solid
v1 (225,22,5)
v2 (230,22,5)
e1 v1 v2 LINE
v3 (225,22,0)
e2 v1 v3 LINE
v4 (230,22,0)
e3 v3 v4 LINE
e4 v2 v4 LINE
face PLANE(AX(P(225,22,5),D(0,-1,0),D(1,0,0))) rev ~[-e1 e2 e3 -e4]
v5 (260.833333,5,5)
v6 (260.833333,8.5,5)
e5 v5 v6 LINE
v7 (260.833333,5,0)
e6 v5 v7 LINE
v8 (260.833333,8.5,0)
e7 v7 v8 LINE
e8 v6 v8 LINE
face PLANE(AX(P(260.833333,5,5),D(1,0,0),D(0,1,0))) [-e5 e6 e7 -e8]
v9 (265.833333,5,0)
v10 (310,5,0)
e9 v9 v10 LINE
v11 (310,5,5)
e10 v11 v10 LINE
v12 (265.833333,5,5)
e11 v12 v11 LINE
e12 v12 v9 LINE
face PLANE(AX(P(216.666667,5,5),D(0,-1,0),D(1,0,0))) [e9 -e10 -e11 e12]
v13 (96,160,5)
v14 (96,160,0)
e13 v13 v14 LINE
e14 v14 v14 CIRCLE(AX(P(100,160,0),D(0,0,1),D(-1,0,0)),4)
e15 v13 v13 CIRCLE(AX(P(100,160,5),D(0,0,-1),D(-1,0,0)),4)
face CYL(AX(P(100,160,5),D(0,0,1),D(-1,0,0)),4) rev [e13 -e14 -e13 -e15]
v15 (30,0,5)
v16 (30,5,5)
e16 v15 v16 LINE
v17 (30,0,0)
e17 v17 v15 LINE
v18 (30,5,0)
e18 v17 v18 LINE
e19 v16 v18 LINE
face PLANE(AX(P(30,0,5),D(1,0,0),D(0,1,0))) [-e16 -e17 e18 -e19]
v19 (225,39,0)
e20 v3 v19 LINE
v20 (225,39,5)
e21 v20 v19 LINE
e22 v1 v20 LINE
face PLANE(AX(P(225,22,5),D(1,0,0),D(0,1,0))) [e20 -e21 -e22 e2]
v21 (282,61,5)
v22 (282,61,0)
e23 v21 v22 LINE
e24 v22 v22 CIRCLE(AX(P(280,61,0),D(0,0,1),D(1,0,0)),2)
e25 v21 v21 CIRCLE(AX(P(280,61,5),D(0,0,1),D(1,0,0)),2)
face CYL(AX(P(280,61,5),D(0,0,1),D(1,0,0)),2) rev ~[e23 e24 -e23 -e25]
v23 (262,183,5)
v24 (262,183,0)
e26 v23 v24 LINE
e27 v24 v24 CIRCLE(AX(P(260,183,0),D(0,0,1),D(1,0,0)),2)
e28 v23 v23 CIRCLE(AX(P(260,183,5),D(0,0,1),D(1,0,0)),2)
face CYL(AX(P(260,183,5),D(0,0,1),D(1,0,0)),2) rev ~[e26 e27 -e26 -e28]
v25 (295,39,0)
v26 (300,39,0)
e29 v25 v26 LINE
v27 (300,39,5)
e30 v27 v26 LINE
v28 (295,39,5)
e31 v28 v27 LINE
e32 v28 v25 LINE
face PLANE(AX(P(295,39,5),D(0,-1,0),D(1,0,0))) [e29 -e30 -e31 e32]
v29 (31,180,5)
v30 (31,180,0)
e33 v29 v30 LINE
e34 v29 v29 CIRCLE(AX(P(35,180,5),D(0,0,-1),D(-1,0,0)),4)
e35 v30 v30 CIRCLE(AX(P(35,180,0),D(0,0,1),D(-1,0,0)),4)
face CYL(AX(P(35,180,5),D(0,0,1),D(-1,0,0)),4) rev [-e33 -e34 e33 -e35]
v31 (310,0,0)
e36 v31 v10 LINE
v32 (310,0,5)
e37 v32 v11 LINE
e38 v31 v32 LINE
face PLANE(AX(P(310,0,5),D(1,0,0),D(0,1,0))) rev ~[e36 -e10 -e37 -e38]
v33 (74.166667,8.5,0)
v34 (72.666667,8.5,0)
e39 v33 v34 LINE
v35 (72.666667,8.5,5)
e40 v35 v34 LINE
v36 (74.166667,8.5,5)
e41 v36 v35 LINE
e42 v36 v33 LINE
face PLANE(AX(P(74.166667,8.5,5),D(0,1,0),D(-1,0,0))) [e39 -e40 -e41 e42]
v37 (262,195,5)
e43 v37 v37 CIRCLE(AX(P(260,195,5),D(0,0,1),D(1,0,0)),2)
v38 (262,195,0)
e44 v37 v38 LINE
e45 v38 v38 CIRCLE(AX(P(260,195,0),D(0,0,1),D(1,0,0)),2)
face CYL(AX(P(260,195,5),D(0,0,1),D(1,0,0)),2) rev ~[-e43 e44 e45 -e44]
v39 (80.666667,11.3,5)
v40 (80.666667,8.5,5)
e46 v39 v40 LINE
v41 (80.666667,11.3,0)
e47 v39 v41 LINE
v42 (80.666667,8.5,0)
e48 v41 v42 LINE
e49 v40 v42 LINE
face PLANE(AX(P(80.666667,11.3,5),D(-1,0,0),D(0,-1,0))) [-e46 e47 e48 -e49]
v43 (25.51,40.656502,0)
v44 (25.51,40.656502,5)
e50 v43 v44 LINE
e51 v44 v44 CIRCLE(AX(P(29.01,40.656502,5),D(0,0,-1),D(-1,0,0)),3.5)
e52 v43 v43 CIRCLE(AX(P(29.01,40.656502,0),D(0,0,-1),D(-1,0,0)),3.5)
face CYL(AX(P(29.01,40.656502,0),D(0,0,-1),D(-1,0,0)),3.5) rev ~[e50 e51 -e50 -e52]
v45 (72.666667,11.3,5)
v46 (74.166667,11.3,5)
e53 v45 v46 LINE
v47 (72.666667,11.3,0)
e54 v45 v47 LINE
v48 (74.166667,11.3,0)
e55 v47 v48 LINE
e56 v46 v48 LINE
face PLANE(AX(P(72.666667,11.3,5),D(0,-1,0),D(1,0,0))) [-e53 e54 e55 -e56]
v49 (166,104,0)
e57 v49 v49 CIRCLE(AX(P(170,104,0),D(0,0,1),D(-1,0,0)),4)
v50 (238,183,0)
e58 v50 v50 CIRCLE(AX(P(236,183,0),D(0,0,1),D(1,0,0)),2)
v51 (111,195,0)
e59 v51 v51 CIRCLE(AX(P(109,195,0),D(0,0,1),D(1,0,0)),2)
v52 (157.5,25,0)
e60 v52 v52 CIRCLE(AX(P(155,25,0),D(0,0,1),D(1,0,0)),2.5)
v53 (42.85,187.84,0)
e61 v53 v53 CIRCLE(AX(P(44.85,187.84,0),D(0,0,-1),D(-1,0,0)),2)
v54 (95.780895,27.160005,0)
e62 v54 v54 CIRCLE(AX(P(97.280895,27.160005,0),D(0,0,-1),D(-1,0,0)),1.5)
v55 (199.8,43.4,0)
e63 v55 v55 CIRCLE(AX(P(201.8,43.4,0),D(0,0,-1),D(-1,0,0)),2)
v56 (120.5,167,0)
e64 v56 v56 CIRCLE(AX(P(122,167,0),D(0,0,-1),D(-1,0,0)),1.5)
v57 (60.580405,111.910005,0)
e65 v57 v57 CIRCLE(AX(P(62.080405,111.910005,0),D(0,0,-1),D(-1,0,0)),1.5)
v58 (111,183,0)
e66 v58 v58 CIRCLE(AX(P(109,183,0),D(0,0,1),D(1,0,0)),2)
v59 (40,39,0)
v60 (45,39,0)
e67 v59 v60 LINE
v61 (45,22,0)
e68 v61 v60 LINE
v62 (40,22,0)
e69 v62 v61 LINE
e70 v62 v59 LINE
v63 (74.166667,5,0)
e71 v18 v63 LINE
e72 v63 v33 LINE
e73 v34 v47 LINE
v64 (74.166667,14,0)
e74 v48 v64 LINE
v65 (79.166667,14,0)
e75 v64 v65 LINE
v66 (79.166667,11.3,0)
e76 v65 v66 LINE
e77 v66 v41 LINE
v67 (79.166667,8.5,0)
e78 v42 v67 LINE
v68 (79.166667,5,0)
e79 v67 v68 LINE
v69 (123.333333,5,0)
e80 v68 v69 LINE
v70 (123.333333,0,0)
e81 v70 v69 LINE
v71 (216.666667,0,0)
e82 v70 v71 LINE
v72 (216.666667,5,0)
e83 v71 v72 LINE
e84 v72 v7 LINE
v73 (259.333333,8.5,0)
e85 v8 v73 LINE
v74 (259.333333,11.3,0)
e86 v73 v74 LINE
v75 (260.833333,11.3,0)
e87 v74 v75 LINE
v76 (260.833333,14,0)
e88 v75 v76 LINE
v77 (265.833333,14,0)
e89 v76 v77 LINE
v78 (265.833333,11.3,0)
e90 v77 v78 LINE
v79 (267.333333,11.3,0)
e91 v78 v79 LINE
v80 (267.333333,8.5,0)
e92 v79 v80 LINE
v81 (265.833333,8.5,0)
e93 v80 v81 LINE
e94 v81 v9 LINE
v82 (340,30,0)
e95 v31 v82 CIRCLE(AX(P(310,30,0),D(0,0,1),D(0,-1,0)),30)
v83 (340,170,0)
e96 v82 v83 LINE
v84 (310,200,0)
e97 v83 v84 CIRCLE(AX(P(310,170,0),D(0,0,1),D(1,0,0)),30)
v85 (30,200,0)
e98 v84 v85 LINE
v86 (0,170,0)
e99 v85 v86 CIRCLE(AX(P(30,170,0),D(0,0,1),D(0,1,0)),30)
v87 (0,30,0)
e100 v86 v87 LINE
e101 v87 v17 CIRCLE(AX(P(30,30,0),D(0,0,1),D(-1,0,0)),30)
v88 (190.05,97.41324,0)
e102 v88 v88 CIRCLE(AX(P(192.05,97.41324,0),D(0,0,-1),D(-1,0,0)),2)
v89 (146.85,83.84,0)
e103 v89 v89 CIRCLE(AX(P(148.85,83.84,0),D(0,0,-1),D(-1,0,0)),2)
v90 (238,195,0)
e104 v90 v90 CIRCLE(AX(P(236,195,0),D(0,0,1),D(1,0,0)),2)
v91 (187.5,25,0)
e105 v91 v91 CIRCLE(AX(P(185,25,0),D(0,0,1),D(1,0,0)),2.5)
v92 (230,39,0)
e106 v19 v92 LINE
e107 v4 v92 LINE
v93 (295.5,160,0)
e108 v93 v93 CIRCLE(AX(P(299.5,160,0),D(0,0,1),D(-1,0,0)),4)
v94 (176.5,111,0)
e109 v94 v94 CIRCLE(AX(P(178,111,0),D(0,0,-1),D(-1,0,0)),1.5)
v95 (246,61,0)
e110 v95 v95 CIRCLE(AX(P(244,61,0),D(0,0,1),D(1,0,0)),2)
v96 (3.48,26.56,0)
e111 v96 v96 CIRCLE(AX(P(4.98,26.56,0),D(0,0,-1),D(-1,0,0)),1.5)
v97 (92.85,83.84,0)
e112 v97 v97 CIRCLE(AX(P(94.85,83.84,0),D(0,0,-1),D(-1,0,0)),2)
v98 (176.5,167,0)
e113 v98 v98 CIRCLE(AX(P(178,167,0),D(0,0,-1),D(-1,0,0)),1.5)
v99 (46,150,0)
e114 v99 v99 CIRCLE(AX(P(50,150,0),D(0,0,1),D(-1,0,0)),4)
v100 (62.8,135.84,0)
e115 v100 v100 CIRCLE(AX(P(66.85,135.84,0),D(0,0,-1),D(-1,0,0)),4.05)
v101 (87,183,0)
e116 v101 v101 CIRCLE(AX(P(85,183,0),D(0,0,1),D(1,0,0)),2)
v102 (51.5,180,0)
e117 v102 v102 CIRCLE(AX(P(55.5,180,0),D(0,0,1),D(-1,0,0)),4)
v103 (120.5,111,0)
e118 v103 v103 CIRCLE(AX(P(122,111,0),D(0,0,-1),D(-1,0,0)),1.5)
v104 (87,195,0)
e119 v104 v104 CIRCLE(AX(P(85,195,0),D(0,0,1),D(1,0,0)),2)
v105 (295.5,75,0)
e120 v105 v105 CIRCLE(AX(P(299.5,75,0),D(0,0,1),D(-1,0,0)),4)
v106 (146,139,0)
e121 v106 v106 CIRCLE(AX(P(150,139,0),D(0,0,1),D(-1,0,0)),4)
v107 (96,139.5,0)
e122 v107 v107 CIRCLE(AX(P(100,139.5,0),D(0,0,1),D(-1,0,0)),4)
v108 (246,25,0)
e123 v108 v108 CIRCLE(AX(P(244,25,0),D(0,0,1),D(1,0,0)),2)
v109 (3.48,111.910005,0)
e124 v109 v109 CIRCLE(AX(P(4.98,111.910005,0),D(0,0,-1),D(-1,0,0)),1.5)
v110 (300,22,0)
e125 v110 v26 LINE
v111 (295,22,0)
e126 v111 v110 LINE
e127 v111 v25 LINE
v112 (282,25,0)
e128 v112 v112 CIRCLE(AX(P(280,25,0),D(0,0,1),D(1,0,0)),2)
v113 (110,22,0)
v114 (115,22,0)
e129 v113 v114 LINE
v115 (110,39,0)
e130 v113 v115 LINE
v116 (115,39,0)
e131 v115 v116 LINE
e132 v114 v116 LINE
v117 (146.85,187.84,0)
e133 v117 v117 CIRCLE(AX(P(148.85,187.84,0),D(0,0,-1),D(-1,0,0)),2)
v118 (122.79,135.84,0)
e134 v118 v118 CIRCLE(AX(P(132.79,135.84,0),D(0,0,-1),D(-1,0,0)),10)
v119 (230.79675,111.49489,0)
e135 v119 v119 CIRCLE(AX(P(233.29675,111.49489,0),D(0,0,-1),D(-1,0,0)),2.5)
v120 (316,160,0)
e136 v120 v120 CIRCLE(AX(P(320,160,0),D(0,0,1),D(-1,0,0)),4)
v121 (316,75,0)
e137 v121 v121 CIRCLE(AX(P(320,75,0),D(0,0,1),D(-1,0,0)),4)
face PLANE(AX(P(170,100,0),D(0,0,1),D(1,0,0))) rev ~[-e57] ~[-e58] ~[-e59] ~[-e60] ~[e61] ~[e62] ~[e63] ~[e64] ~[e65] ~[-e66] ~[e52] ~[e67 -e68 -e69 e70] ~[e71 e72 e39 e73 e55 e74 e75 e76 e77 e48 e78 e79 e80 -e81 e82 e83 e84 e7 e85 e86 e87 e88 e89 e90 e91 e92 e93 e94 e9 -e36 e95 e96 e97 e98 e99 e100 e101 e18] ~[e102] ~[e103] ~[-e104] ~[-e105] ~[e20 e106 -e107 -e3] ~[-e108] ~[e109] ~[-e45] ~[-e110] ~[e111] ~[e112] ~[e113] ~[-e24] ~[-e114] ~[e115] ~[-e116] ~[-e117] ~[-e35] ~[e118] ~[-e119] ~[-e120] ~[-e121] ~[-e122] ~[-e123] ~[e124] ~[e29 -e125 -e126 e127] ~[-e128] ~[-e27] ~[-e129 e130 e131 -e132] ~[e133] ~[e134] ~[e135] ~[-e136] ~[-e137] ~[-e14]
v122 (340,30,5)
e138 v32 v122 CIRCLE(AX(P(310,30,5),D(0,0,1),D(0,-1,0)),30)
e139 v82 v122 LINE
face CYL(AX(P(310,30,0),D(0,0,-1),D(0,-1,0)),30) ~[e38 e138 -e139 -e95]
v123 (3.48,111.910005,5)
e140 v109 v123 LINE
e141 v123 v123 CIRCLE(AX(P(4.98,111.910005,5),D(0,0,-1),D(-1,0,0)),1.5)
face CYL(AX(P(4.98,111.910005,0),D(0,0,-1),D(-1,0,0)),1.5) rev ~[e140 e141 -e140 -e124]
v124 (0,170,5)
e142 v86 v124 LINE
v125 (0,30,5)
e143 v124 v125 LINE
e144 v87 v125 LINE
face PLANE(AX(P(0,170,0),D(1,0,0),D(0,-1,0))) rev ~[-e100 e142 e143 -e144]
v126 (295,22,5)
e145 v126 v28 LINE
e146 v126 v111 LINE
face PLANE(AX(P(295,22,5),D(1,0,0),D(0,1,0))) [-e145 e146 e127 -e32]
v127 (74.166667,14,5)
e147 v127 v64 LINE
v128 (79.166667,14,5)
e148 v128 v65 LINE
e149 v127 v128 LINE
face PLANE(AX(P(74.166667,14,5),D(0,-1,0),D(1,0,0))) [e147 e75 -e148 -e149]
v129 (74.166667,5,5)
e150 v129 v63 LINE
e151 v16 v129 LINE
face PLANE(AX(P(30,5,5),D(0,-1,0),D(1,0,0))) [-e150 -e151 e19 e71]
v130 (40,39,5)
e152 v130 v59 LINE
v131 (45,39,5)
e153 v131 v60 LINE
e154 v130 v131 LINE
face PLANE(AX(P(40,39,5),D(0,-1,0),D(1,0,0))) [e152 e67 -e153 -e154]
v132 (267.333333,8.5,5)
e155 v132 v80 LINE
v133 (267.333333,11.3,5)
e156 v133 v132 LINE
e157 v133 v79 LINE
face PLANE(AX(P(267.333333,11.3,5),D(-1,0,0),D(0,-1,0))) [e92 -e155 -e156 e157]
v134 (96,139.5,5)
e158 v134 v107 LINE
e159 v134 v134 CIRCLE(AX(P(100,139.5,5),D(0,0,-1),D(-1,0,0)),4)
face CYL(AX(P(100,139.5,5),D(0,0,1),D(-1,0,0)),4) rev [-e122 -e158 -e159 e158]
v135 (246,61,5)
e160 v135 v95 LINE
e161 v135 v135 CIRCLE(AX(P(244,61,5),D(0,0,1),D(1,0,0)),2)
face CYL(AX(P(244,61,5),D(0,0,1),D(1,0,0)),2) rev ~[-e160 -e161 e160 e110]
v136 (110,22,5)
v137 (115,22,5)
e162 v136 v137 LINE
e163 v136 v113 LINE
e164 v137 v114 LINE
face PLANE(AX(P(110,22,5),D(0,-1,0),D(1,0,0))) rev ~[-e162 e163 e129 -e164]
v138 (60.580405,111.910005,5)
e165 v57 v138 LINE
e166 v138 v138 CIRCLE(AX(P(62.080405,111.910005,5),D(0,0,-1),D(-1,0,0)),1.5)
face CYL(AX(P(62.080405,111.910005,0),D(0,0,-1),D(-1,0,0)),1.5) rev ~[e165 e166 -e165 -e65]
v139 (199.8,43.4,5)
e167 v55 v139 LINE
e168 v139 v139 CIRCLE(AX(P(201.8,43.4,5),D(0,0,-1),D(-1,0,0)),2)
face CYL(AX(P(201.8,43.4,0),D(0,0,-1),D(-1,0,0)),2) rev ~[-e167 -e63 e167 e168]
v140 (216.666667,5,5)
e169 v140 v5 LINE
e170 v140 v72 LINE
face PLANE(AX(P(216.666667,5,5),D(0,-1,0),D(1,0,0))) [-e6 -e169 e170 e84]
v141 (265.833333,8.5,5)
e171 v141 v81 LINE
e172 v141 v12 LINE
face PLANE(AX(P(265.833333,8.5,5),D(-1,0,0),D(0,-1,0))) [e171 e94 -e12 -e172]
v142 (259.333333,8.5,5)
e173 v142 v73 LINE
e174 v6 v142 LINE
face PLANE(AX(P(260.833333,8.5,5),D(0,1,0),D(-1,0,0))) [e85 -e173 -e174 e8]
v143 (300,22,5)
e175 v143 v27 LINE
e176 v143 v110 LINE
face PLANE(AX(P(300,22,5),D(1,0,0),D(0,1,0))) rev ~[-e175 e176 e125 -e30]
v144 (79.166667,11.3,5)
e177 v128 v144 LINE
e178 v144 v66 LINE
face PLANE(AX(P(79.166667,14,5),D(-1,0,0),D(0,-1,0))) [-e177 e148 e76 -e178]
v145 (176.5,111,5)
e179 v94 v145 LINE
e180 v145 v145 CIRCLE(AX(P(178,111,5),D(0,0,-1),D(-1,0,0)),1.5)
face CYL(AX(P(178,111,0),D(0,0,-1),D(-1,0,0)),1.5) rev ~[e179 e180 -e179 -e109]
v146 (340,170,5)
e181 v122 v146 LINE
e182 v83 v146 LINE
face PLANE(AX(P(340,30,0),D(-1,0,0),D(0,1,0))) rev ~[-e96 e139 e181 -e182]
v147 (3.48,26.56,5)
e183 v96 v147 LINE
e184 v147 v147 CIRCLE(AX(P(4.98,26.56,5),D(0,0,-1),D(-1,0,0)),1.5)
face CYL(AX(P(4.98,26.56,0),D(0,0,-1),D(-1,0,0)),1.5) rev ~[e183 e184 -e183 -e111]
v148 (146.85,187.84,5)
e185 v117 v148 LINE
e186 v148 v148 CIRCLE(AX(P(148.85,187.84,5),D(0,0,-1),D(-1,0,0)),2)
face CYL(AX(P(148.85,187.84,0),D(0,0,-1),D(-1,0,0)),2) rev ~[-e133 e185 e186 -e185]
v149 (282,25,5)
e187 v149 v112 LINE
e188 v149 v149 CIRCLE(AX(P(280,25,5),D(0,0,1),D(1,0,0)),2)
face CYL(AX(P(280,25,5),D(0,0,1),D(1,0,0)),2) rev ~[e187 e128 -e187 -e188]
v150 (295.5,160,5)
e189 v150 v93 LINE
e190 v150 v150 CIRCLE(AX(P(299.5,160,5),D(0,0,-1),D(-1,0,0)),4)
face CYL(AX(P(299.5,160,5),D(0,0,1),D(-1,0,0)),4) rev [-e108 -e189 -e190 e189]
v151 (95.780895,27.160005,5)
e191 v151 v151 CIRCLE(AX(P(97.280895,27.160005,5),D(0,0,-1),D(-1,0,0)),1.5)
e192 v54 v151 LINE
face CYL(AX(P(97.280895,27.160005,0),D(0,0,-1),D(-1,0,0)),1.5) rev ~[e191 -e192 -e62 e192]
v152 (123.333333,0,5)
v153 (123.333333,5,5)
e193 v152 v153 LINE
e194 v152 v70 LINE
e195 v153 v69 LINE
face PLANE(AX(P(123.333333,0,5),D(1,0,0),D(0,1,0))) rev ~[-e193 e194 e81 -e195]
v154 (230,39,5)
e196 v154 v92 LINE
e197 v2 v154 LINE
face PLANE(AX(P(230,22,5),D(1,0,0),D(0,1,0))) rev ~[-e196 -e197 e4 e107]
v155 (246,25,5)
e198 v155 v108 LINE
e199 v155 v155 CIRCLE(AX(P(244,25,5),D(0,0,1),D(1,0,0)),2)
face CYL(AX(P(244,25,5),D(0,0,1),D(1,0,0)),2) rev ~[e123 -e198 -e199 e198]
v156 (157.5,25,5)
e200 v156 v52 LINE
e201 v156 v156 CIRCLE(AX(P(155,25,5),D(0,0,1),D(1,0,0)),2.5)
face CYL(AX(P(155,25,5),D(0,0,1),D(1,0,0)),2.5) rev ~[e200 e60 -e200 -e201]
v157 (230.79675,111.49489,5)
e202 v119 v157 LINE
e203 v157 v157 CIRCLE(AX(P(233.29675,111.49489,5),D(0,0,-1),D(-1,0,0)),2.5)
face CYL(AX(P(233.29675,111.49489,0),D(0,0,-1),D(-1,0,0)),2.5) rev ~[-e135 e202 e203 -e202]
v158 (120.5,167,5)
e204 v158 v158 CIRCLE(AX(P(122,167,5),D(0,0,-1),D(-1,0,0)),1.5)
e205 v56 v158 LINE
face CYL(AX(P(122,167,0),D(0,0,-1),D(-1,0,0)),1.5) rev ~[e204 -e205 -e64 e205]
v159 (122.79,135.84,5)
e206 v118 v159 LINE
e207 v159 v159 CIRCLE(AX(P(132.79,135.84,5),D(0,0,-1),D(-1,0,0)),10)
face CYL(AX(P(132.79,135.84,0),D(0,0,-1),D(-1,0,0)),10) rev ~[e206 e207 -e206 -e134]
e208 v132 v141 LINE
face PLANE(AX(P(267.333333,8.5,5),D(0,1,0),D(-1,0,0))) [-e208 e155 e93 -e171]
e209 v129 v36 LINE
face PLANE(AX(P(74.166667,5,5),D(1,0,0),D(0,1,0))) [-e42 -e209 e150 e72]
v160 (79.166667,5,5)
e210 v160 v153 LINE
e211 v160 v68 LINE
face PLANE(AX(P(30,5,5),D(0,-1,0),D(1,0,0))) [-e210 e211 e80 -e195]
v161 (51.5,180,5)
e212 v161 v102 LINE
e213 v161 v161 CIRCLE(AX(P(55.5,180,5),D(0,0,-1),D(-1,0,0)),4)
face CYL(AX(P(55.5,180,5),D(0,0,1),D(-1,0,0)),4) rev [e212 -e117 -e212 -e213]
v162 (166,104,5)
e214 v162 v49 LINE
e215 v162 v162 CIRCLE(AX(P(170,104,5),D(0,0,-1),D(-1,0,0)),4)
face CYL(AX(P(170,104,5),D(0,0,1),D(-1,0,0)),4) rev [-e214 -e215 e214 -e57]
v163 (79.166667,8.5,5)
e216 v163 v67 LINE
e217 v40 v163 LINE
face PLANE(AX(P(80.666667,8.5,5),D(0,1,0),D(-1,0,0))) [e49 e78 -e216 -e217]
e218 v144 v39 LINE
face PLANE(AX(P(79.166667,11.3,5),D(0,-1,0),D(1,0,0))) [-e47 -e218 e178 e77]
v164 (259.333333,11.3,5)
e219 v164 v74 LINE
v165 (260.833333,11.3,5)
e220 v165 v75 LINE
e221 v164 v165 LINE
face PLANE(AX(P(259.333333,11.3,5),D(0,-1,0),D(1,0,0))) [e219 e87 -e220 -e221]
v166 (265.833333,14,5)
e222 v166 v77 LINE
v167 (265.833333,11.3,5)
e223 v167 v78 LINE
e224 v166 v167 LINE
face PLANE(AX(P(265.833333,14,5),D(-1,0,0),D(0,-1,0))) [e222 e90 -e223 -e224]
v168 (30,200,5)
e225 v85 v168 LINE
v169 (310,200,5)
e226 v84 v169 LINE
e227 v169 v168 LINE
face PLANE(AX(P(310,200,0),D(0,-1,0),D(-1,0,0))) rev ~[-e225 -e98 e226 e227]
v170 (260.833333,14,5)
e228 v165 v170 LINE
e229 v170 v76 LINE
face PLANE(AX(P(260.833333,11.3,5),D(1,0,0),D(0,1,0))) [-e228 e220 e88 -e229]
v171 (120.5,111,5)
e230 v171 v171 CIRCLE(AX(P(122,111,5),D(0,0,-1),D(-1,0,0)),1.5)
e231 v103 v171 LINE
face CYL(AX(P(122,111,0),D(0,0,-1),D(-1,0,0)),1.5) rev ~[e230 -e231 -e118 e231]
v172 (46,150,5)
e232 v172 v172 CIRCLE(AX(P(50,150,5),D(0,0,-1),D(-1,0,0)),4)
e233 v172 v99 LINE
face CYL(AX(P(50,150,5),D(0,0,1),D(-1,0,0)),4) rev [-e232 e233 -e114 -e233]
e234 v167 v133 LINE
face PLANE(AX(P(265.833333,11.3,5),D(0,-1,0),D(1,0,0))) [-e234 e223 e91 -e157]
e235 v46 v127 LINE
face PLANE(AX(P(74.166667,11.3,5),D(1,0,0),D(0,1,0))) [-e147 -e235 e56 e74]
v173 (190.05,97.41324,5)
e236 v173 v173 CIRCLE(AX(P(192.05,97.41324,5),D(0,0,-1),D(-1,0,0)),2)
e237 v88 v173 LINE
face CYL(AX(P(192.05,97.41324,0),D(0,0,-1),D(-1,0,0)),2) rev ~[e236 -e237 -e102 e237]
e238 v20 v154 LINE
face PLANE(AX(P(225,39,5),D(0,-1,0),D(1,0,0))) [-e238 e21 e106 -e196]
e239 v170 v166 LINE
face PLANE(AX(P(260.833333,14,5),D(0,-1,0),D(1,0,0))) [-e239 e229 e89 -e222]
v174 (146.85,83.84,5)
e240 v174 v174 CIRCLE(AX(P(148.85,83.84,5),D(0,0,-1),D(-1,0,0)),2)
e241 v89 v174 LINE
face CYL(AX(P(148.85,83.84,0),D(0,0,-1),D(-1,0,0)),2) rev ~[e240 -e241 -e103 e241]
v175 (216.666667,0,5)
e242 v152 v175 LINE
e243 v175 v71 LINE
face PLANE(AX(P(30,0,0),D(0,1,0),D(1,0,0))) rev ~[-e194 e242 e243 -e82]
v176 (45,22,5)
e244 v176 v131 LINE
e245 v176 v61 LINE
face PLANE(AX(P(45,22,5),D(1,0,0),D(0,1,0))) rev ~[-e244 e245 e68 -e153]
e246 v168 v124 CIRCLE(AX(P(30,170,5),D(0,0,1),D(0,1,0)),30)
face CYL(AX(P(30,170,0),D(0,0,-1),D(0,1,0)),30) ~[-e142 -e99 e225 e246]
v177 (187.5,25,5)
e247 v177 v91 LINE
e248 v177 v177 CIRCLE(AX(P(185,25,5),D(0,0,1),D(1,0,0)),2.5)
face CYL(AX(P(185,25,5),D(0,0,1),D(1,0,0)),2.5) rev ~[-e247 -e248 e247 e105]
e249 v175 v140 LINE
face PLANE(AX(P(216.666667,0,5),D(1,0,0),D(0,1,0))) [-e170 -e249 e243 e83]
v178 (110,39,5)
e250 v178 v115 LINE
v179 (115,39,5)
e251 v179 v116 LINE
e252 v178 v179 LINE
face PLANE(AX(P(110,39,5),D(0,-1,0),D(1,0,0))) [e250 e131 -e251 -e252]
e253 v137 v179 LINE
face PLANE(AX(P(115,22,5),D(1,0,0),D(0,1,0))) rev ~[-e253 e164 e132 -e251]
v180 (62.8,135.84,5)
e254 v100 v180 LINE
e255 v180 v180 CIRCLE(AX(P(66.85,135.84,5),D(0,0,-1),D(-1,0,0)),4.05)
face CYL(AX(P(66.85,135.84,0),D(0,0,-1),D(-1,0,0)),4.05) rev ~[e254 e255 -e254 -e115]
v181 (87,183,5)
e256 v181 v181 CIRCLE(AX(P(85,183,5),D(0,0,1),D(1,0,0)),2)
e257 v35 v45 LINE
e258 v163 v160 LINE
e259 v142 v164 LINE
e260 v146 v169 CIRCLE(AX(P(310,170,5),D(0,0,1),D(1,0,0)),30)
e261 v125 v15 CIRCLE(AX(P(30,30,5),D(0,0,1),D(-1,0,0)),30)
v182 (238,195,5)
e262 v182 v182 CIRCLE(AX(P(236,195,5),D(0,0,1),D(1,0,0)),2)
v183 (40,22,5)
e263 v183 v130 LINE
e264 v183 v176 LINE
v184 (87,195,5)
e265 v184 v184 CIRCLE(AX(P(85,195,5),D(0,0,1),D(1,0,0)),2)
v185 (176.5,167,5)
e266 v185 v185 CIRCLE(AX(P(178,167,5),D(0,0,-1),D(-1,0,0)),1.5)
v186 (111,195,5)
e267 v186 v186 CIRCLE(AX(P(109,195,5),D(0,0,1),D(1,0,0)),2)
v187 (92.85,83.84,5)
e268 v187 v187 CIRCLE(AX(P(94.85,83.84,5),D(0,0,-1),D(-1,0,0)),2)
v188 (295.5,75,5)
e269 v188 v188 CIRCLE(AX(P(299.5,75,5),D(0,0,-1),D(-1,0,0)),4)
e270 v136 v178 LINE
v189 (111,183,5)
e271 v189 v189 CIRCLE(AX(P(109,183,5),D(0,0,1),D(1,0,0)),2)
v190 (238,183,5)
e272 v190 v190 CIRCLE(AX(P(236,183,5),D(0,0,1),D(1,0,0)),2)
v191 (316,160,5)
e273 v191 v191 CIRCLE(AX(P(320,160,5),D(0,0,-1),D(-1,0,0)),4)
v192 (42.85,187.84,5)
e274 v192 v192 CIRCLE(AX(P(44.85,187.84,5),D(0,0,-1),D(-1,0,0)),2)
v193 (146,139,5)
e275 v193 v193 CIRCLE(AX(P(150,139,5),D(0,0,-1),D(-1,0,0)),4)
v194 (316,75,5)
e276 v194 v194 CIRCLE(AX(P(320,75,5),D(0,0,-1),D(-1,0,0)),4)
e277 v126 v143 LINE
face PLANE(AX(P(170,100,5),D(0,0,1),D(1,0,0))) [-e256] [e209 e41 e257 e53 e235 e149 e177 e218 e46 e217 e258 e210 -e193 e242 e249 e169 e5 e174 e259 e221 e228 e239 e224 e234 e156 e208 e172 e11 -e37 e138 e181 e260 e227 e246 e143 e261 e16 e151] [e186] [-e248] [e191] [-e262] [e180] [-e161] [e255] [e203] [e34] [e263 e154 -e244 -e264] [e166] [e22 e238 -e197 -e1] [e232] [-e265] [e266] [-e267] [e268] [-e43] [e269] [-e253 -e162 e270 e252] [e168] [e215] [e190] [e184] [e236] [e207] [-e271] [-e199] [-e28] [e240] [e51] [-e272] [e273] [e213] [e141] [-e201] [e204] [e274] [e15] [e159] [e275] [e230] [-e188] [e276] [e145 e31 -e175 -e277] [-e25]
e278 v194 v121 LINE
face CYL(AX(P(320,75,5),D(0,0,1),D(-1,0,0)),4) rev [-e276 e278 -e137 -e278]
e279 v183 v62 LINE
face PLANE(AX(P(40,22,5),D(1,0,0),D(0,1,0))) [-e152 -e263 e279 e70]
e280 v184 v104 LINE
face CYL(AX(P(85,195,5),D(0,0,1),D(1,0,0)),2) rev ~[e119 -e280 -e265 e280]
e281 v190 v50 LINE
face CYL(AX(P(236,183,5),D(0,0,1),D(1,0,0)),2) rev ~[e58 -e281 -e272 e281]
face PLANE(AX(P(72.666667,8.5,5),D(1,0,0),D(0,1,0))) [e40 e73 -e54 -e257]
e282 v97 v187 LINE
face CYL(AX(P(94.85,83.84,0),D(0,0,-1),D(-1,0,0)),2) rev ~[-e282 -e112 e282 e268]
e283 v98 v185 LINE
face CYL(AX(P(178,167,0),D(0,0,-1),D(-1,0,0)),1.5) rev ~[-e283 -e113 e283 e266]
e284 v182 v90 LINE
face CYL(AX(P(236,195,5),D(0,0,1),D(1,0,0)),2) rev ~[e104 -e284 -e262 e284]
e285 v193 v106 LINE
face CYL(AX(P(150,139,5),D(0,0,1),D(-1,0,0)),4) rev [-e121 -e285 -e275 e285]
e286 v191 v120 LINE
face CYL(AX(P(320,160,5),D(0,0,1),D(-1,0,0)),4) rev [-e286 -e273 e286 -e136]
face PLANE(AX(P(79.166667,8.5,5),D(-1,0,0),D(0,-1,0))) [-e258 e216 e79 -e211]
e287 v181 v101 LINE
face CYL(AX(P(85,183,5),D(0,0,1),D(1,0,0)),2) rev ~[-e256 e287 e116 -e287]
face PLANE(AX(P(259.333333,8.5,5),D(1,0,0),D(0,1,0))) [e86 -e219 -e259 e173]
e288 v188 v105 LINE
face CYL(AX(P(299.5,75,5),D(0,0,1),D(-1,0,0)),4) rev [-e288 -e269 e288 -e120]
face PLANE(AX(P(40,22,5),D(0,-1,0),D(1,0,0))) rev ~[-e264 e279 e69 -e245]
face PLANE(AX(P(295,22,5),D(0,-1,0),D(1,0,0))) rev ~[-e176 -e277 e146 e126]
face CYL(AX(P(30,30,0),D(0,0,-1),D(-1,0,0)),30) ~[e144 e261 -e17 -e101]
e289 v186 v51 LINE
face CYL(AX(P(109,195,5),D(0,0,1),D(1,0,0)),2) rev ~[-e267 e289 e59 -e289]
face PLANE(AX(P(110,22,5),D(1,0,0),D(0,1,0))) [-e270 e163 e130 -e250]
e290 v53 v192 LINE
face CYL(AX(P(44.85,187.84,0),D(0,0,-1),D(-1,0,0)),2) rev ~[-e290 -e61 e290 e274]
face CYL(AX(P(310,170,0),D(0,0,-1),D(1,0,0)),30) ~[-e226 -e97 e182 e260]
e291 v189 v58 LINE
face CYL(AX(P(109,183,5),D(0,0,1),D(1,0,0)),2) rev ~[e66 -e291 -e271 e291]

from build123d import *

# Parameters (mm, degrees)
SALIENTE_EXTRUIR1_DEPTH = 5
CROQUIS2_R              = 4
CORTAR_EXTRUIR4_DEPTH   = 10
CROQUIS3_R              = 2
CROQUIS3_R_2            = 10
CROQUIS3_R_3            = 4.05
CORTAR_EXTRUIR5_DEPTH   = 10
CROQUIS5_R              = 1.5
CORTAR_EXTRUIR6_DEPTH   = 10
CROQUIS6_R              = 2
CORTAR_EXTRUIR7_DEPTH   = 10
CROQUIS8_R              = 2
CORTAR_EXTRUIR8_DEPTH   = 10
CROQUIS9_R              = 3.5
CROQUIS9_R_2            = 1.5
CROQUIS9_R_3            = 2.5
CROQUIS9_R_4            = 2
CORTAR_EXTRUIR9_DEPTH   = 10
CROQUIS10_W             = 93.333333333
CROQUIS10_H             = 5
CORTAR_EXTRUIR10_DEPTH  = 10
CORTAR_EXTRUIR14_DEPTH  = 5
CROQUIS13_W             = 5
CROQUIS13_H             = 17
CORTAR_EXTRUIR15_DEPTH  = 5
CROQUIS14_R             = 2.5
CORTAR_EXTRUIR16_DEPTH  = 10


with BuildPart() as part:
    # Croquis1 → Saliente-Extruir1 (new body)
    with BuildSketch(Plane.XY):
        with BuildLine():
            Line((30, 0), (310, 0))
            ThreePointArc((310, 0), (331.213203436, 8.786796564), (340, 30))
            Line((340, 30), (340, 170))
            ThreePointArc((340, 170), (331.213203436, 191.213203436), (310, 200))
            Line((310, 200), (30, 200))
            ThreePointArc((30, 200), (8.786796564, 191.213203436), (0, 170))
            Line((0, 170), (0, 30))
            ThreePointArc((0, 30), (8.786796564, 8.786796564), (30, 0))
        make_face()
    extrude(amount=SALIENTE_EXTRUIR1_DEPTH)

    # Croquis2 → Cortar-Extruir4 (cut)
    with BuildSketch(Plane(origin=(0, 0, 5), x_dir=(-1, 0, 0), z_dir=(0, 0, -1))):
        with Locations((-55.5, 180)):
            Circle(CROQUIS2_R)
        with Locations((-35, 180)):
            Circle(CROQUIS2_R)
        with Locations((-100, 160)):
            Circle(CROQUIS2_R)
        with Locations((-100, 139.5)):
            Circle(CROQUIS2_R)
        with Locations((-299.5, 160)):
            Circle(CROQUIS2_R)
        with Locations((-320, 160)):
            Circle(CROQUIS2_R)
        with Locations((-320, 75)):
            Circle(CROQUIS2_R)
        with Locations((-299.5, 75)):
            Circle(CROQUIS2_R)
        with Locations((-150, 139)):
            Circle(CROQUIS2_R)
        with Locations((-170, 104)):
            Circle(CROQUIS2_R)
        with Locations((-50, 150)):
            Circle(CROQUIS2_R)
    extrude(amount=CORTAR_EXTRUIR4_DEPTH, mode=Mode.SUBTRACT)

    # Croquis3 → Cortar-Extruir5 (cut)
    with BuildSketch(Plane(origin=(0, 0, 0), x_dir=(-1, 0, 0), z_dir=(0, 0, -1))):
        with Locations((-148.85, 83.84)):
            Circle(CROQUIS3_R)
        with Locations((-94.85, 83.84)):
            Circle(CROQUIS3_R)
        with Locations((-44.85, 187.84)):
            Circle(CROQUIS3_R)
        with Locations((-148.85, 187.84)):
            Circle(CROQUIS3_R)
        with Locations((-132.79, 135.84)):
            Circle(CROQUIS3_R_2)
        with Locations((-66.85, 135.84)):
            Circle(CROQUIS3_R_3)
    extrude(amount=-CORTAR_EXTRUIR5_DEPTH, mode=Mode.SUBTRACT)

    # Croquis5 → Cortar-Extruir6 (cut)
    with BuildSketch(Plane(origin=(0, 0, 0), x_dir=(-1, 0, 0), z_dir=(0, 0, -1))):
        with Locations((-178, 167)):
            Circle(CROQUIS5_R)
        with Locations((-122, 111)):
            Circle(CROQUIS5_R)
        with Locations((-122, 167)):
            Circle(CROQUIS5_R)
        with Locations((-178, 111)):
            Circle(CROQUIS5_R)
    extrude(amount=-CORTAR_EXTRUIR6_DEPTH, mode=Mode.SUBTRACT)

    # Croquis6 → Cortar-Extruir7 (cut)
    with BuildSketch(Plane.XY.offset(5)):
        with Locations((244, 61)):
            Circle(CROQUIS6_R)
        with Locations((280, 61)):
            Circle(CROQUIS6_R)
        with Locations((244, 25)):
            Circle(CROQUIS6_R)
        with Locations((280, 25)):
            Circle(CROQUIS6_R)
    extrude(amount=-CORTAR_EXTRUIR7_DEPTH, mode=Mode.SUBTRACT)

    # Croquis8 → Cortar-Extruir8 (cut)
    with BuildSketch(Plane.XY.offset(5)):
        with Locations((236, 195)):
            Circle(CROQUIS8_R)
        with Locations((236, 183)):
            Circle(CROQUIS8_R)
        with Locations((260, 183)):
            Circle(CROQUIS8_R)
        with Locations((260, 195)):
            Circle(CROQUIS8_R)
        with Locations((85, 195)):
            Circle(CROQUIS8_R)
        with Locations((85, 183)):
            Circle(CROQUIS8_R)
        with Locations((109, 183)):
            Circle(CROQUIS8_R)
        with Locations((109, 195)):
            Circle(CROQUIS8_R)
    extrude(amount=-CORTAR_EXTRUIR8_DEPTH, mode=Mode.SUBTRACT)

    # Croquis9 → Cortar-Extruir9 (cut)
    with BuildSketch(Plane(origin=(0, 0, 0), x_dir=(-1, 0, 0), z_dir=(0, 0, -1))):
        with Locations((-29.01, 40.656502357)):
            Circle(CROQUIS9_R)
        with Locations((-62.080404779, 111.910005093)):
            Circle(CROQUIS9_R_2)
        with Locations((-4.98, 111.910005093)):
            Circle(CROQUIS9_R_2)
        with Locations((-97.280894834, 27.160005093)):
            Circle(CROQUIS9_R_2)
        with Locations((-4.98, 26.56)):
            Circle(CROQUIS9_R_2)
        with Locations((-233.296749654, 111.494889841)):
            Circle(CROQUIS9_R_3)
        with Locations((-201.8, 43.4)):
            Circle(CROQUIS9_R_4)
        with Locations((-192.05, 97.413240345)):
            Circle(CROQUIS9_R_4)
    extrude(amount=-CORTAR_EXTRUIR9_DEPTH, mode=Mode.SUBTRACT)

    # Croquis10 → Cortar-Extruir10 (cut)
    with BuildSketch(Plane.XY.offset(5)):
        with Locations((76.666666667, 2.5)):
            Rectangle(CROQUIS10_W, CROQUIS10_H)
        with Locations((263.333333334, 2.5)):
            Rectangle(CROQUIS10_W, CROQUIS10_H)
    extrude(amount=-CORTAR_EXTRUIR10_DEPTH, mode=Mode.SUBTRACT)

    # Croquis12 → Cortar-Extruir14 (cut)
    with BuildSketch(Plane.XY.offset(5)):
        Polygon((74.166666667, 5), (74.166666667, 8.5), (72.666666667, 8.5), (72.666666667, 11.3), (74.166666667, 11.3), (74.166666667, 14), (79.166666667, 14), (79.166666667, 11.3), (80.666666667, 11.3), (80.666666667, 8.5), (79.166666667, 8.5), (79.166666667, 5), align=None)
        Polygon((260.833333333, 11.3), (260.833333333, 14), (265.833333333, 14), (265.833333333, 11.3), (267.333333333, 11.3), (267.333333333, 8.5), (265.833333333, 8.5), (265.833333333, 5), (260.833333333, 5), (260.833333333, 8.5), (259.333333333, 8.5), (259.333333333, 11.3), align=None)
    extrude(amount=-CORTAR_EXTRUIR14_DEPTH, mode=Mode.SUBTRACT)

    # Croquis13 → Cortar-Extruir15 (cut)
    with BuildSketch(Plane.XY.offset(5)):
        with Locations((42.5, 30.5)):
            Rectangle(CROQUIS13_W, CROQUIS13_H)
        with Locations((112.5, 30.5)):
            Rectangle(CROQUIS13_W, CROQUIS13_H)
        with Locations((227.5, 30.5)):
            Rectangle(CROQUIS13_W, CROQUIS13_H)
        with Locations((297.5, 30.5)):
            Rectangle(CROQUIS13_W, CROQUIS13_H)
    extrude(amount=-CORTAR_EXTRUIR15_DEPTH, mode=Mode.SUBTRACT)

    # Croquis14 → Cortar-Extruir16 (cut)
    with BuildSketch(Plane.XY.offset(5)):
        with Locations((155, 25)):
            Circle(CROQUIS14_R)
        with Locations((185, 25)):
            Circle(CROQUIS14_R)
    extrude(amount=-CORTAR_EXTRUIR16_DEPTH, mode=Mode.SUBTRACT)


solid = part.part
